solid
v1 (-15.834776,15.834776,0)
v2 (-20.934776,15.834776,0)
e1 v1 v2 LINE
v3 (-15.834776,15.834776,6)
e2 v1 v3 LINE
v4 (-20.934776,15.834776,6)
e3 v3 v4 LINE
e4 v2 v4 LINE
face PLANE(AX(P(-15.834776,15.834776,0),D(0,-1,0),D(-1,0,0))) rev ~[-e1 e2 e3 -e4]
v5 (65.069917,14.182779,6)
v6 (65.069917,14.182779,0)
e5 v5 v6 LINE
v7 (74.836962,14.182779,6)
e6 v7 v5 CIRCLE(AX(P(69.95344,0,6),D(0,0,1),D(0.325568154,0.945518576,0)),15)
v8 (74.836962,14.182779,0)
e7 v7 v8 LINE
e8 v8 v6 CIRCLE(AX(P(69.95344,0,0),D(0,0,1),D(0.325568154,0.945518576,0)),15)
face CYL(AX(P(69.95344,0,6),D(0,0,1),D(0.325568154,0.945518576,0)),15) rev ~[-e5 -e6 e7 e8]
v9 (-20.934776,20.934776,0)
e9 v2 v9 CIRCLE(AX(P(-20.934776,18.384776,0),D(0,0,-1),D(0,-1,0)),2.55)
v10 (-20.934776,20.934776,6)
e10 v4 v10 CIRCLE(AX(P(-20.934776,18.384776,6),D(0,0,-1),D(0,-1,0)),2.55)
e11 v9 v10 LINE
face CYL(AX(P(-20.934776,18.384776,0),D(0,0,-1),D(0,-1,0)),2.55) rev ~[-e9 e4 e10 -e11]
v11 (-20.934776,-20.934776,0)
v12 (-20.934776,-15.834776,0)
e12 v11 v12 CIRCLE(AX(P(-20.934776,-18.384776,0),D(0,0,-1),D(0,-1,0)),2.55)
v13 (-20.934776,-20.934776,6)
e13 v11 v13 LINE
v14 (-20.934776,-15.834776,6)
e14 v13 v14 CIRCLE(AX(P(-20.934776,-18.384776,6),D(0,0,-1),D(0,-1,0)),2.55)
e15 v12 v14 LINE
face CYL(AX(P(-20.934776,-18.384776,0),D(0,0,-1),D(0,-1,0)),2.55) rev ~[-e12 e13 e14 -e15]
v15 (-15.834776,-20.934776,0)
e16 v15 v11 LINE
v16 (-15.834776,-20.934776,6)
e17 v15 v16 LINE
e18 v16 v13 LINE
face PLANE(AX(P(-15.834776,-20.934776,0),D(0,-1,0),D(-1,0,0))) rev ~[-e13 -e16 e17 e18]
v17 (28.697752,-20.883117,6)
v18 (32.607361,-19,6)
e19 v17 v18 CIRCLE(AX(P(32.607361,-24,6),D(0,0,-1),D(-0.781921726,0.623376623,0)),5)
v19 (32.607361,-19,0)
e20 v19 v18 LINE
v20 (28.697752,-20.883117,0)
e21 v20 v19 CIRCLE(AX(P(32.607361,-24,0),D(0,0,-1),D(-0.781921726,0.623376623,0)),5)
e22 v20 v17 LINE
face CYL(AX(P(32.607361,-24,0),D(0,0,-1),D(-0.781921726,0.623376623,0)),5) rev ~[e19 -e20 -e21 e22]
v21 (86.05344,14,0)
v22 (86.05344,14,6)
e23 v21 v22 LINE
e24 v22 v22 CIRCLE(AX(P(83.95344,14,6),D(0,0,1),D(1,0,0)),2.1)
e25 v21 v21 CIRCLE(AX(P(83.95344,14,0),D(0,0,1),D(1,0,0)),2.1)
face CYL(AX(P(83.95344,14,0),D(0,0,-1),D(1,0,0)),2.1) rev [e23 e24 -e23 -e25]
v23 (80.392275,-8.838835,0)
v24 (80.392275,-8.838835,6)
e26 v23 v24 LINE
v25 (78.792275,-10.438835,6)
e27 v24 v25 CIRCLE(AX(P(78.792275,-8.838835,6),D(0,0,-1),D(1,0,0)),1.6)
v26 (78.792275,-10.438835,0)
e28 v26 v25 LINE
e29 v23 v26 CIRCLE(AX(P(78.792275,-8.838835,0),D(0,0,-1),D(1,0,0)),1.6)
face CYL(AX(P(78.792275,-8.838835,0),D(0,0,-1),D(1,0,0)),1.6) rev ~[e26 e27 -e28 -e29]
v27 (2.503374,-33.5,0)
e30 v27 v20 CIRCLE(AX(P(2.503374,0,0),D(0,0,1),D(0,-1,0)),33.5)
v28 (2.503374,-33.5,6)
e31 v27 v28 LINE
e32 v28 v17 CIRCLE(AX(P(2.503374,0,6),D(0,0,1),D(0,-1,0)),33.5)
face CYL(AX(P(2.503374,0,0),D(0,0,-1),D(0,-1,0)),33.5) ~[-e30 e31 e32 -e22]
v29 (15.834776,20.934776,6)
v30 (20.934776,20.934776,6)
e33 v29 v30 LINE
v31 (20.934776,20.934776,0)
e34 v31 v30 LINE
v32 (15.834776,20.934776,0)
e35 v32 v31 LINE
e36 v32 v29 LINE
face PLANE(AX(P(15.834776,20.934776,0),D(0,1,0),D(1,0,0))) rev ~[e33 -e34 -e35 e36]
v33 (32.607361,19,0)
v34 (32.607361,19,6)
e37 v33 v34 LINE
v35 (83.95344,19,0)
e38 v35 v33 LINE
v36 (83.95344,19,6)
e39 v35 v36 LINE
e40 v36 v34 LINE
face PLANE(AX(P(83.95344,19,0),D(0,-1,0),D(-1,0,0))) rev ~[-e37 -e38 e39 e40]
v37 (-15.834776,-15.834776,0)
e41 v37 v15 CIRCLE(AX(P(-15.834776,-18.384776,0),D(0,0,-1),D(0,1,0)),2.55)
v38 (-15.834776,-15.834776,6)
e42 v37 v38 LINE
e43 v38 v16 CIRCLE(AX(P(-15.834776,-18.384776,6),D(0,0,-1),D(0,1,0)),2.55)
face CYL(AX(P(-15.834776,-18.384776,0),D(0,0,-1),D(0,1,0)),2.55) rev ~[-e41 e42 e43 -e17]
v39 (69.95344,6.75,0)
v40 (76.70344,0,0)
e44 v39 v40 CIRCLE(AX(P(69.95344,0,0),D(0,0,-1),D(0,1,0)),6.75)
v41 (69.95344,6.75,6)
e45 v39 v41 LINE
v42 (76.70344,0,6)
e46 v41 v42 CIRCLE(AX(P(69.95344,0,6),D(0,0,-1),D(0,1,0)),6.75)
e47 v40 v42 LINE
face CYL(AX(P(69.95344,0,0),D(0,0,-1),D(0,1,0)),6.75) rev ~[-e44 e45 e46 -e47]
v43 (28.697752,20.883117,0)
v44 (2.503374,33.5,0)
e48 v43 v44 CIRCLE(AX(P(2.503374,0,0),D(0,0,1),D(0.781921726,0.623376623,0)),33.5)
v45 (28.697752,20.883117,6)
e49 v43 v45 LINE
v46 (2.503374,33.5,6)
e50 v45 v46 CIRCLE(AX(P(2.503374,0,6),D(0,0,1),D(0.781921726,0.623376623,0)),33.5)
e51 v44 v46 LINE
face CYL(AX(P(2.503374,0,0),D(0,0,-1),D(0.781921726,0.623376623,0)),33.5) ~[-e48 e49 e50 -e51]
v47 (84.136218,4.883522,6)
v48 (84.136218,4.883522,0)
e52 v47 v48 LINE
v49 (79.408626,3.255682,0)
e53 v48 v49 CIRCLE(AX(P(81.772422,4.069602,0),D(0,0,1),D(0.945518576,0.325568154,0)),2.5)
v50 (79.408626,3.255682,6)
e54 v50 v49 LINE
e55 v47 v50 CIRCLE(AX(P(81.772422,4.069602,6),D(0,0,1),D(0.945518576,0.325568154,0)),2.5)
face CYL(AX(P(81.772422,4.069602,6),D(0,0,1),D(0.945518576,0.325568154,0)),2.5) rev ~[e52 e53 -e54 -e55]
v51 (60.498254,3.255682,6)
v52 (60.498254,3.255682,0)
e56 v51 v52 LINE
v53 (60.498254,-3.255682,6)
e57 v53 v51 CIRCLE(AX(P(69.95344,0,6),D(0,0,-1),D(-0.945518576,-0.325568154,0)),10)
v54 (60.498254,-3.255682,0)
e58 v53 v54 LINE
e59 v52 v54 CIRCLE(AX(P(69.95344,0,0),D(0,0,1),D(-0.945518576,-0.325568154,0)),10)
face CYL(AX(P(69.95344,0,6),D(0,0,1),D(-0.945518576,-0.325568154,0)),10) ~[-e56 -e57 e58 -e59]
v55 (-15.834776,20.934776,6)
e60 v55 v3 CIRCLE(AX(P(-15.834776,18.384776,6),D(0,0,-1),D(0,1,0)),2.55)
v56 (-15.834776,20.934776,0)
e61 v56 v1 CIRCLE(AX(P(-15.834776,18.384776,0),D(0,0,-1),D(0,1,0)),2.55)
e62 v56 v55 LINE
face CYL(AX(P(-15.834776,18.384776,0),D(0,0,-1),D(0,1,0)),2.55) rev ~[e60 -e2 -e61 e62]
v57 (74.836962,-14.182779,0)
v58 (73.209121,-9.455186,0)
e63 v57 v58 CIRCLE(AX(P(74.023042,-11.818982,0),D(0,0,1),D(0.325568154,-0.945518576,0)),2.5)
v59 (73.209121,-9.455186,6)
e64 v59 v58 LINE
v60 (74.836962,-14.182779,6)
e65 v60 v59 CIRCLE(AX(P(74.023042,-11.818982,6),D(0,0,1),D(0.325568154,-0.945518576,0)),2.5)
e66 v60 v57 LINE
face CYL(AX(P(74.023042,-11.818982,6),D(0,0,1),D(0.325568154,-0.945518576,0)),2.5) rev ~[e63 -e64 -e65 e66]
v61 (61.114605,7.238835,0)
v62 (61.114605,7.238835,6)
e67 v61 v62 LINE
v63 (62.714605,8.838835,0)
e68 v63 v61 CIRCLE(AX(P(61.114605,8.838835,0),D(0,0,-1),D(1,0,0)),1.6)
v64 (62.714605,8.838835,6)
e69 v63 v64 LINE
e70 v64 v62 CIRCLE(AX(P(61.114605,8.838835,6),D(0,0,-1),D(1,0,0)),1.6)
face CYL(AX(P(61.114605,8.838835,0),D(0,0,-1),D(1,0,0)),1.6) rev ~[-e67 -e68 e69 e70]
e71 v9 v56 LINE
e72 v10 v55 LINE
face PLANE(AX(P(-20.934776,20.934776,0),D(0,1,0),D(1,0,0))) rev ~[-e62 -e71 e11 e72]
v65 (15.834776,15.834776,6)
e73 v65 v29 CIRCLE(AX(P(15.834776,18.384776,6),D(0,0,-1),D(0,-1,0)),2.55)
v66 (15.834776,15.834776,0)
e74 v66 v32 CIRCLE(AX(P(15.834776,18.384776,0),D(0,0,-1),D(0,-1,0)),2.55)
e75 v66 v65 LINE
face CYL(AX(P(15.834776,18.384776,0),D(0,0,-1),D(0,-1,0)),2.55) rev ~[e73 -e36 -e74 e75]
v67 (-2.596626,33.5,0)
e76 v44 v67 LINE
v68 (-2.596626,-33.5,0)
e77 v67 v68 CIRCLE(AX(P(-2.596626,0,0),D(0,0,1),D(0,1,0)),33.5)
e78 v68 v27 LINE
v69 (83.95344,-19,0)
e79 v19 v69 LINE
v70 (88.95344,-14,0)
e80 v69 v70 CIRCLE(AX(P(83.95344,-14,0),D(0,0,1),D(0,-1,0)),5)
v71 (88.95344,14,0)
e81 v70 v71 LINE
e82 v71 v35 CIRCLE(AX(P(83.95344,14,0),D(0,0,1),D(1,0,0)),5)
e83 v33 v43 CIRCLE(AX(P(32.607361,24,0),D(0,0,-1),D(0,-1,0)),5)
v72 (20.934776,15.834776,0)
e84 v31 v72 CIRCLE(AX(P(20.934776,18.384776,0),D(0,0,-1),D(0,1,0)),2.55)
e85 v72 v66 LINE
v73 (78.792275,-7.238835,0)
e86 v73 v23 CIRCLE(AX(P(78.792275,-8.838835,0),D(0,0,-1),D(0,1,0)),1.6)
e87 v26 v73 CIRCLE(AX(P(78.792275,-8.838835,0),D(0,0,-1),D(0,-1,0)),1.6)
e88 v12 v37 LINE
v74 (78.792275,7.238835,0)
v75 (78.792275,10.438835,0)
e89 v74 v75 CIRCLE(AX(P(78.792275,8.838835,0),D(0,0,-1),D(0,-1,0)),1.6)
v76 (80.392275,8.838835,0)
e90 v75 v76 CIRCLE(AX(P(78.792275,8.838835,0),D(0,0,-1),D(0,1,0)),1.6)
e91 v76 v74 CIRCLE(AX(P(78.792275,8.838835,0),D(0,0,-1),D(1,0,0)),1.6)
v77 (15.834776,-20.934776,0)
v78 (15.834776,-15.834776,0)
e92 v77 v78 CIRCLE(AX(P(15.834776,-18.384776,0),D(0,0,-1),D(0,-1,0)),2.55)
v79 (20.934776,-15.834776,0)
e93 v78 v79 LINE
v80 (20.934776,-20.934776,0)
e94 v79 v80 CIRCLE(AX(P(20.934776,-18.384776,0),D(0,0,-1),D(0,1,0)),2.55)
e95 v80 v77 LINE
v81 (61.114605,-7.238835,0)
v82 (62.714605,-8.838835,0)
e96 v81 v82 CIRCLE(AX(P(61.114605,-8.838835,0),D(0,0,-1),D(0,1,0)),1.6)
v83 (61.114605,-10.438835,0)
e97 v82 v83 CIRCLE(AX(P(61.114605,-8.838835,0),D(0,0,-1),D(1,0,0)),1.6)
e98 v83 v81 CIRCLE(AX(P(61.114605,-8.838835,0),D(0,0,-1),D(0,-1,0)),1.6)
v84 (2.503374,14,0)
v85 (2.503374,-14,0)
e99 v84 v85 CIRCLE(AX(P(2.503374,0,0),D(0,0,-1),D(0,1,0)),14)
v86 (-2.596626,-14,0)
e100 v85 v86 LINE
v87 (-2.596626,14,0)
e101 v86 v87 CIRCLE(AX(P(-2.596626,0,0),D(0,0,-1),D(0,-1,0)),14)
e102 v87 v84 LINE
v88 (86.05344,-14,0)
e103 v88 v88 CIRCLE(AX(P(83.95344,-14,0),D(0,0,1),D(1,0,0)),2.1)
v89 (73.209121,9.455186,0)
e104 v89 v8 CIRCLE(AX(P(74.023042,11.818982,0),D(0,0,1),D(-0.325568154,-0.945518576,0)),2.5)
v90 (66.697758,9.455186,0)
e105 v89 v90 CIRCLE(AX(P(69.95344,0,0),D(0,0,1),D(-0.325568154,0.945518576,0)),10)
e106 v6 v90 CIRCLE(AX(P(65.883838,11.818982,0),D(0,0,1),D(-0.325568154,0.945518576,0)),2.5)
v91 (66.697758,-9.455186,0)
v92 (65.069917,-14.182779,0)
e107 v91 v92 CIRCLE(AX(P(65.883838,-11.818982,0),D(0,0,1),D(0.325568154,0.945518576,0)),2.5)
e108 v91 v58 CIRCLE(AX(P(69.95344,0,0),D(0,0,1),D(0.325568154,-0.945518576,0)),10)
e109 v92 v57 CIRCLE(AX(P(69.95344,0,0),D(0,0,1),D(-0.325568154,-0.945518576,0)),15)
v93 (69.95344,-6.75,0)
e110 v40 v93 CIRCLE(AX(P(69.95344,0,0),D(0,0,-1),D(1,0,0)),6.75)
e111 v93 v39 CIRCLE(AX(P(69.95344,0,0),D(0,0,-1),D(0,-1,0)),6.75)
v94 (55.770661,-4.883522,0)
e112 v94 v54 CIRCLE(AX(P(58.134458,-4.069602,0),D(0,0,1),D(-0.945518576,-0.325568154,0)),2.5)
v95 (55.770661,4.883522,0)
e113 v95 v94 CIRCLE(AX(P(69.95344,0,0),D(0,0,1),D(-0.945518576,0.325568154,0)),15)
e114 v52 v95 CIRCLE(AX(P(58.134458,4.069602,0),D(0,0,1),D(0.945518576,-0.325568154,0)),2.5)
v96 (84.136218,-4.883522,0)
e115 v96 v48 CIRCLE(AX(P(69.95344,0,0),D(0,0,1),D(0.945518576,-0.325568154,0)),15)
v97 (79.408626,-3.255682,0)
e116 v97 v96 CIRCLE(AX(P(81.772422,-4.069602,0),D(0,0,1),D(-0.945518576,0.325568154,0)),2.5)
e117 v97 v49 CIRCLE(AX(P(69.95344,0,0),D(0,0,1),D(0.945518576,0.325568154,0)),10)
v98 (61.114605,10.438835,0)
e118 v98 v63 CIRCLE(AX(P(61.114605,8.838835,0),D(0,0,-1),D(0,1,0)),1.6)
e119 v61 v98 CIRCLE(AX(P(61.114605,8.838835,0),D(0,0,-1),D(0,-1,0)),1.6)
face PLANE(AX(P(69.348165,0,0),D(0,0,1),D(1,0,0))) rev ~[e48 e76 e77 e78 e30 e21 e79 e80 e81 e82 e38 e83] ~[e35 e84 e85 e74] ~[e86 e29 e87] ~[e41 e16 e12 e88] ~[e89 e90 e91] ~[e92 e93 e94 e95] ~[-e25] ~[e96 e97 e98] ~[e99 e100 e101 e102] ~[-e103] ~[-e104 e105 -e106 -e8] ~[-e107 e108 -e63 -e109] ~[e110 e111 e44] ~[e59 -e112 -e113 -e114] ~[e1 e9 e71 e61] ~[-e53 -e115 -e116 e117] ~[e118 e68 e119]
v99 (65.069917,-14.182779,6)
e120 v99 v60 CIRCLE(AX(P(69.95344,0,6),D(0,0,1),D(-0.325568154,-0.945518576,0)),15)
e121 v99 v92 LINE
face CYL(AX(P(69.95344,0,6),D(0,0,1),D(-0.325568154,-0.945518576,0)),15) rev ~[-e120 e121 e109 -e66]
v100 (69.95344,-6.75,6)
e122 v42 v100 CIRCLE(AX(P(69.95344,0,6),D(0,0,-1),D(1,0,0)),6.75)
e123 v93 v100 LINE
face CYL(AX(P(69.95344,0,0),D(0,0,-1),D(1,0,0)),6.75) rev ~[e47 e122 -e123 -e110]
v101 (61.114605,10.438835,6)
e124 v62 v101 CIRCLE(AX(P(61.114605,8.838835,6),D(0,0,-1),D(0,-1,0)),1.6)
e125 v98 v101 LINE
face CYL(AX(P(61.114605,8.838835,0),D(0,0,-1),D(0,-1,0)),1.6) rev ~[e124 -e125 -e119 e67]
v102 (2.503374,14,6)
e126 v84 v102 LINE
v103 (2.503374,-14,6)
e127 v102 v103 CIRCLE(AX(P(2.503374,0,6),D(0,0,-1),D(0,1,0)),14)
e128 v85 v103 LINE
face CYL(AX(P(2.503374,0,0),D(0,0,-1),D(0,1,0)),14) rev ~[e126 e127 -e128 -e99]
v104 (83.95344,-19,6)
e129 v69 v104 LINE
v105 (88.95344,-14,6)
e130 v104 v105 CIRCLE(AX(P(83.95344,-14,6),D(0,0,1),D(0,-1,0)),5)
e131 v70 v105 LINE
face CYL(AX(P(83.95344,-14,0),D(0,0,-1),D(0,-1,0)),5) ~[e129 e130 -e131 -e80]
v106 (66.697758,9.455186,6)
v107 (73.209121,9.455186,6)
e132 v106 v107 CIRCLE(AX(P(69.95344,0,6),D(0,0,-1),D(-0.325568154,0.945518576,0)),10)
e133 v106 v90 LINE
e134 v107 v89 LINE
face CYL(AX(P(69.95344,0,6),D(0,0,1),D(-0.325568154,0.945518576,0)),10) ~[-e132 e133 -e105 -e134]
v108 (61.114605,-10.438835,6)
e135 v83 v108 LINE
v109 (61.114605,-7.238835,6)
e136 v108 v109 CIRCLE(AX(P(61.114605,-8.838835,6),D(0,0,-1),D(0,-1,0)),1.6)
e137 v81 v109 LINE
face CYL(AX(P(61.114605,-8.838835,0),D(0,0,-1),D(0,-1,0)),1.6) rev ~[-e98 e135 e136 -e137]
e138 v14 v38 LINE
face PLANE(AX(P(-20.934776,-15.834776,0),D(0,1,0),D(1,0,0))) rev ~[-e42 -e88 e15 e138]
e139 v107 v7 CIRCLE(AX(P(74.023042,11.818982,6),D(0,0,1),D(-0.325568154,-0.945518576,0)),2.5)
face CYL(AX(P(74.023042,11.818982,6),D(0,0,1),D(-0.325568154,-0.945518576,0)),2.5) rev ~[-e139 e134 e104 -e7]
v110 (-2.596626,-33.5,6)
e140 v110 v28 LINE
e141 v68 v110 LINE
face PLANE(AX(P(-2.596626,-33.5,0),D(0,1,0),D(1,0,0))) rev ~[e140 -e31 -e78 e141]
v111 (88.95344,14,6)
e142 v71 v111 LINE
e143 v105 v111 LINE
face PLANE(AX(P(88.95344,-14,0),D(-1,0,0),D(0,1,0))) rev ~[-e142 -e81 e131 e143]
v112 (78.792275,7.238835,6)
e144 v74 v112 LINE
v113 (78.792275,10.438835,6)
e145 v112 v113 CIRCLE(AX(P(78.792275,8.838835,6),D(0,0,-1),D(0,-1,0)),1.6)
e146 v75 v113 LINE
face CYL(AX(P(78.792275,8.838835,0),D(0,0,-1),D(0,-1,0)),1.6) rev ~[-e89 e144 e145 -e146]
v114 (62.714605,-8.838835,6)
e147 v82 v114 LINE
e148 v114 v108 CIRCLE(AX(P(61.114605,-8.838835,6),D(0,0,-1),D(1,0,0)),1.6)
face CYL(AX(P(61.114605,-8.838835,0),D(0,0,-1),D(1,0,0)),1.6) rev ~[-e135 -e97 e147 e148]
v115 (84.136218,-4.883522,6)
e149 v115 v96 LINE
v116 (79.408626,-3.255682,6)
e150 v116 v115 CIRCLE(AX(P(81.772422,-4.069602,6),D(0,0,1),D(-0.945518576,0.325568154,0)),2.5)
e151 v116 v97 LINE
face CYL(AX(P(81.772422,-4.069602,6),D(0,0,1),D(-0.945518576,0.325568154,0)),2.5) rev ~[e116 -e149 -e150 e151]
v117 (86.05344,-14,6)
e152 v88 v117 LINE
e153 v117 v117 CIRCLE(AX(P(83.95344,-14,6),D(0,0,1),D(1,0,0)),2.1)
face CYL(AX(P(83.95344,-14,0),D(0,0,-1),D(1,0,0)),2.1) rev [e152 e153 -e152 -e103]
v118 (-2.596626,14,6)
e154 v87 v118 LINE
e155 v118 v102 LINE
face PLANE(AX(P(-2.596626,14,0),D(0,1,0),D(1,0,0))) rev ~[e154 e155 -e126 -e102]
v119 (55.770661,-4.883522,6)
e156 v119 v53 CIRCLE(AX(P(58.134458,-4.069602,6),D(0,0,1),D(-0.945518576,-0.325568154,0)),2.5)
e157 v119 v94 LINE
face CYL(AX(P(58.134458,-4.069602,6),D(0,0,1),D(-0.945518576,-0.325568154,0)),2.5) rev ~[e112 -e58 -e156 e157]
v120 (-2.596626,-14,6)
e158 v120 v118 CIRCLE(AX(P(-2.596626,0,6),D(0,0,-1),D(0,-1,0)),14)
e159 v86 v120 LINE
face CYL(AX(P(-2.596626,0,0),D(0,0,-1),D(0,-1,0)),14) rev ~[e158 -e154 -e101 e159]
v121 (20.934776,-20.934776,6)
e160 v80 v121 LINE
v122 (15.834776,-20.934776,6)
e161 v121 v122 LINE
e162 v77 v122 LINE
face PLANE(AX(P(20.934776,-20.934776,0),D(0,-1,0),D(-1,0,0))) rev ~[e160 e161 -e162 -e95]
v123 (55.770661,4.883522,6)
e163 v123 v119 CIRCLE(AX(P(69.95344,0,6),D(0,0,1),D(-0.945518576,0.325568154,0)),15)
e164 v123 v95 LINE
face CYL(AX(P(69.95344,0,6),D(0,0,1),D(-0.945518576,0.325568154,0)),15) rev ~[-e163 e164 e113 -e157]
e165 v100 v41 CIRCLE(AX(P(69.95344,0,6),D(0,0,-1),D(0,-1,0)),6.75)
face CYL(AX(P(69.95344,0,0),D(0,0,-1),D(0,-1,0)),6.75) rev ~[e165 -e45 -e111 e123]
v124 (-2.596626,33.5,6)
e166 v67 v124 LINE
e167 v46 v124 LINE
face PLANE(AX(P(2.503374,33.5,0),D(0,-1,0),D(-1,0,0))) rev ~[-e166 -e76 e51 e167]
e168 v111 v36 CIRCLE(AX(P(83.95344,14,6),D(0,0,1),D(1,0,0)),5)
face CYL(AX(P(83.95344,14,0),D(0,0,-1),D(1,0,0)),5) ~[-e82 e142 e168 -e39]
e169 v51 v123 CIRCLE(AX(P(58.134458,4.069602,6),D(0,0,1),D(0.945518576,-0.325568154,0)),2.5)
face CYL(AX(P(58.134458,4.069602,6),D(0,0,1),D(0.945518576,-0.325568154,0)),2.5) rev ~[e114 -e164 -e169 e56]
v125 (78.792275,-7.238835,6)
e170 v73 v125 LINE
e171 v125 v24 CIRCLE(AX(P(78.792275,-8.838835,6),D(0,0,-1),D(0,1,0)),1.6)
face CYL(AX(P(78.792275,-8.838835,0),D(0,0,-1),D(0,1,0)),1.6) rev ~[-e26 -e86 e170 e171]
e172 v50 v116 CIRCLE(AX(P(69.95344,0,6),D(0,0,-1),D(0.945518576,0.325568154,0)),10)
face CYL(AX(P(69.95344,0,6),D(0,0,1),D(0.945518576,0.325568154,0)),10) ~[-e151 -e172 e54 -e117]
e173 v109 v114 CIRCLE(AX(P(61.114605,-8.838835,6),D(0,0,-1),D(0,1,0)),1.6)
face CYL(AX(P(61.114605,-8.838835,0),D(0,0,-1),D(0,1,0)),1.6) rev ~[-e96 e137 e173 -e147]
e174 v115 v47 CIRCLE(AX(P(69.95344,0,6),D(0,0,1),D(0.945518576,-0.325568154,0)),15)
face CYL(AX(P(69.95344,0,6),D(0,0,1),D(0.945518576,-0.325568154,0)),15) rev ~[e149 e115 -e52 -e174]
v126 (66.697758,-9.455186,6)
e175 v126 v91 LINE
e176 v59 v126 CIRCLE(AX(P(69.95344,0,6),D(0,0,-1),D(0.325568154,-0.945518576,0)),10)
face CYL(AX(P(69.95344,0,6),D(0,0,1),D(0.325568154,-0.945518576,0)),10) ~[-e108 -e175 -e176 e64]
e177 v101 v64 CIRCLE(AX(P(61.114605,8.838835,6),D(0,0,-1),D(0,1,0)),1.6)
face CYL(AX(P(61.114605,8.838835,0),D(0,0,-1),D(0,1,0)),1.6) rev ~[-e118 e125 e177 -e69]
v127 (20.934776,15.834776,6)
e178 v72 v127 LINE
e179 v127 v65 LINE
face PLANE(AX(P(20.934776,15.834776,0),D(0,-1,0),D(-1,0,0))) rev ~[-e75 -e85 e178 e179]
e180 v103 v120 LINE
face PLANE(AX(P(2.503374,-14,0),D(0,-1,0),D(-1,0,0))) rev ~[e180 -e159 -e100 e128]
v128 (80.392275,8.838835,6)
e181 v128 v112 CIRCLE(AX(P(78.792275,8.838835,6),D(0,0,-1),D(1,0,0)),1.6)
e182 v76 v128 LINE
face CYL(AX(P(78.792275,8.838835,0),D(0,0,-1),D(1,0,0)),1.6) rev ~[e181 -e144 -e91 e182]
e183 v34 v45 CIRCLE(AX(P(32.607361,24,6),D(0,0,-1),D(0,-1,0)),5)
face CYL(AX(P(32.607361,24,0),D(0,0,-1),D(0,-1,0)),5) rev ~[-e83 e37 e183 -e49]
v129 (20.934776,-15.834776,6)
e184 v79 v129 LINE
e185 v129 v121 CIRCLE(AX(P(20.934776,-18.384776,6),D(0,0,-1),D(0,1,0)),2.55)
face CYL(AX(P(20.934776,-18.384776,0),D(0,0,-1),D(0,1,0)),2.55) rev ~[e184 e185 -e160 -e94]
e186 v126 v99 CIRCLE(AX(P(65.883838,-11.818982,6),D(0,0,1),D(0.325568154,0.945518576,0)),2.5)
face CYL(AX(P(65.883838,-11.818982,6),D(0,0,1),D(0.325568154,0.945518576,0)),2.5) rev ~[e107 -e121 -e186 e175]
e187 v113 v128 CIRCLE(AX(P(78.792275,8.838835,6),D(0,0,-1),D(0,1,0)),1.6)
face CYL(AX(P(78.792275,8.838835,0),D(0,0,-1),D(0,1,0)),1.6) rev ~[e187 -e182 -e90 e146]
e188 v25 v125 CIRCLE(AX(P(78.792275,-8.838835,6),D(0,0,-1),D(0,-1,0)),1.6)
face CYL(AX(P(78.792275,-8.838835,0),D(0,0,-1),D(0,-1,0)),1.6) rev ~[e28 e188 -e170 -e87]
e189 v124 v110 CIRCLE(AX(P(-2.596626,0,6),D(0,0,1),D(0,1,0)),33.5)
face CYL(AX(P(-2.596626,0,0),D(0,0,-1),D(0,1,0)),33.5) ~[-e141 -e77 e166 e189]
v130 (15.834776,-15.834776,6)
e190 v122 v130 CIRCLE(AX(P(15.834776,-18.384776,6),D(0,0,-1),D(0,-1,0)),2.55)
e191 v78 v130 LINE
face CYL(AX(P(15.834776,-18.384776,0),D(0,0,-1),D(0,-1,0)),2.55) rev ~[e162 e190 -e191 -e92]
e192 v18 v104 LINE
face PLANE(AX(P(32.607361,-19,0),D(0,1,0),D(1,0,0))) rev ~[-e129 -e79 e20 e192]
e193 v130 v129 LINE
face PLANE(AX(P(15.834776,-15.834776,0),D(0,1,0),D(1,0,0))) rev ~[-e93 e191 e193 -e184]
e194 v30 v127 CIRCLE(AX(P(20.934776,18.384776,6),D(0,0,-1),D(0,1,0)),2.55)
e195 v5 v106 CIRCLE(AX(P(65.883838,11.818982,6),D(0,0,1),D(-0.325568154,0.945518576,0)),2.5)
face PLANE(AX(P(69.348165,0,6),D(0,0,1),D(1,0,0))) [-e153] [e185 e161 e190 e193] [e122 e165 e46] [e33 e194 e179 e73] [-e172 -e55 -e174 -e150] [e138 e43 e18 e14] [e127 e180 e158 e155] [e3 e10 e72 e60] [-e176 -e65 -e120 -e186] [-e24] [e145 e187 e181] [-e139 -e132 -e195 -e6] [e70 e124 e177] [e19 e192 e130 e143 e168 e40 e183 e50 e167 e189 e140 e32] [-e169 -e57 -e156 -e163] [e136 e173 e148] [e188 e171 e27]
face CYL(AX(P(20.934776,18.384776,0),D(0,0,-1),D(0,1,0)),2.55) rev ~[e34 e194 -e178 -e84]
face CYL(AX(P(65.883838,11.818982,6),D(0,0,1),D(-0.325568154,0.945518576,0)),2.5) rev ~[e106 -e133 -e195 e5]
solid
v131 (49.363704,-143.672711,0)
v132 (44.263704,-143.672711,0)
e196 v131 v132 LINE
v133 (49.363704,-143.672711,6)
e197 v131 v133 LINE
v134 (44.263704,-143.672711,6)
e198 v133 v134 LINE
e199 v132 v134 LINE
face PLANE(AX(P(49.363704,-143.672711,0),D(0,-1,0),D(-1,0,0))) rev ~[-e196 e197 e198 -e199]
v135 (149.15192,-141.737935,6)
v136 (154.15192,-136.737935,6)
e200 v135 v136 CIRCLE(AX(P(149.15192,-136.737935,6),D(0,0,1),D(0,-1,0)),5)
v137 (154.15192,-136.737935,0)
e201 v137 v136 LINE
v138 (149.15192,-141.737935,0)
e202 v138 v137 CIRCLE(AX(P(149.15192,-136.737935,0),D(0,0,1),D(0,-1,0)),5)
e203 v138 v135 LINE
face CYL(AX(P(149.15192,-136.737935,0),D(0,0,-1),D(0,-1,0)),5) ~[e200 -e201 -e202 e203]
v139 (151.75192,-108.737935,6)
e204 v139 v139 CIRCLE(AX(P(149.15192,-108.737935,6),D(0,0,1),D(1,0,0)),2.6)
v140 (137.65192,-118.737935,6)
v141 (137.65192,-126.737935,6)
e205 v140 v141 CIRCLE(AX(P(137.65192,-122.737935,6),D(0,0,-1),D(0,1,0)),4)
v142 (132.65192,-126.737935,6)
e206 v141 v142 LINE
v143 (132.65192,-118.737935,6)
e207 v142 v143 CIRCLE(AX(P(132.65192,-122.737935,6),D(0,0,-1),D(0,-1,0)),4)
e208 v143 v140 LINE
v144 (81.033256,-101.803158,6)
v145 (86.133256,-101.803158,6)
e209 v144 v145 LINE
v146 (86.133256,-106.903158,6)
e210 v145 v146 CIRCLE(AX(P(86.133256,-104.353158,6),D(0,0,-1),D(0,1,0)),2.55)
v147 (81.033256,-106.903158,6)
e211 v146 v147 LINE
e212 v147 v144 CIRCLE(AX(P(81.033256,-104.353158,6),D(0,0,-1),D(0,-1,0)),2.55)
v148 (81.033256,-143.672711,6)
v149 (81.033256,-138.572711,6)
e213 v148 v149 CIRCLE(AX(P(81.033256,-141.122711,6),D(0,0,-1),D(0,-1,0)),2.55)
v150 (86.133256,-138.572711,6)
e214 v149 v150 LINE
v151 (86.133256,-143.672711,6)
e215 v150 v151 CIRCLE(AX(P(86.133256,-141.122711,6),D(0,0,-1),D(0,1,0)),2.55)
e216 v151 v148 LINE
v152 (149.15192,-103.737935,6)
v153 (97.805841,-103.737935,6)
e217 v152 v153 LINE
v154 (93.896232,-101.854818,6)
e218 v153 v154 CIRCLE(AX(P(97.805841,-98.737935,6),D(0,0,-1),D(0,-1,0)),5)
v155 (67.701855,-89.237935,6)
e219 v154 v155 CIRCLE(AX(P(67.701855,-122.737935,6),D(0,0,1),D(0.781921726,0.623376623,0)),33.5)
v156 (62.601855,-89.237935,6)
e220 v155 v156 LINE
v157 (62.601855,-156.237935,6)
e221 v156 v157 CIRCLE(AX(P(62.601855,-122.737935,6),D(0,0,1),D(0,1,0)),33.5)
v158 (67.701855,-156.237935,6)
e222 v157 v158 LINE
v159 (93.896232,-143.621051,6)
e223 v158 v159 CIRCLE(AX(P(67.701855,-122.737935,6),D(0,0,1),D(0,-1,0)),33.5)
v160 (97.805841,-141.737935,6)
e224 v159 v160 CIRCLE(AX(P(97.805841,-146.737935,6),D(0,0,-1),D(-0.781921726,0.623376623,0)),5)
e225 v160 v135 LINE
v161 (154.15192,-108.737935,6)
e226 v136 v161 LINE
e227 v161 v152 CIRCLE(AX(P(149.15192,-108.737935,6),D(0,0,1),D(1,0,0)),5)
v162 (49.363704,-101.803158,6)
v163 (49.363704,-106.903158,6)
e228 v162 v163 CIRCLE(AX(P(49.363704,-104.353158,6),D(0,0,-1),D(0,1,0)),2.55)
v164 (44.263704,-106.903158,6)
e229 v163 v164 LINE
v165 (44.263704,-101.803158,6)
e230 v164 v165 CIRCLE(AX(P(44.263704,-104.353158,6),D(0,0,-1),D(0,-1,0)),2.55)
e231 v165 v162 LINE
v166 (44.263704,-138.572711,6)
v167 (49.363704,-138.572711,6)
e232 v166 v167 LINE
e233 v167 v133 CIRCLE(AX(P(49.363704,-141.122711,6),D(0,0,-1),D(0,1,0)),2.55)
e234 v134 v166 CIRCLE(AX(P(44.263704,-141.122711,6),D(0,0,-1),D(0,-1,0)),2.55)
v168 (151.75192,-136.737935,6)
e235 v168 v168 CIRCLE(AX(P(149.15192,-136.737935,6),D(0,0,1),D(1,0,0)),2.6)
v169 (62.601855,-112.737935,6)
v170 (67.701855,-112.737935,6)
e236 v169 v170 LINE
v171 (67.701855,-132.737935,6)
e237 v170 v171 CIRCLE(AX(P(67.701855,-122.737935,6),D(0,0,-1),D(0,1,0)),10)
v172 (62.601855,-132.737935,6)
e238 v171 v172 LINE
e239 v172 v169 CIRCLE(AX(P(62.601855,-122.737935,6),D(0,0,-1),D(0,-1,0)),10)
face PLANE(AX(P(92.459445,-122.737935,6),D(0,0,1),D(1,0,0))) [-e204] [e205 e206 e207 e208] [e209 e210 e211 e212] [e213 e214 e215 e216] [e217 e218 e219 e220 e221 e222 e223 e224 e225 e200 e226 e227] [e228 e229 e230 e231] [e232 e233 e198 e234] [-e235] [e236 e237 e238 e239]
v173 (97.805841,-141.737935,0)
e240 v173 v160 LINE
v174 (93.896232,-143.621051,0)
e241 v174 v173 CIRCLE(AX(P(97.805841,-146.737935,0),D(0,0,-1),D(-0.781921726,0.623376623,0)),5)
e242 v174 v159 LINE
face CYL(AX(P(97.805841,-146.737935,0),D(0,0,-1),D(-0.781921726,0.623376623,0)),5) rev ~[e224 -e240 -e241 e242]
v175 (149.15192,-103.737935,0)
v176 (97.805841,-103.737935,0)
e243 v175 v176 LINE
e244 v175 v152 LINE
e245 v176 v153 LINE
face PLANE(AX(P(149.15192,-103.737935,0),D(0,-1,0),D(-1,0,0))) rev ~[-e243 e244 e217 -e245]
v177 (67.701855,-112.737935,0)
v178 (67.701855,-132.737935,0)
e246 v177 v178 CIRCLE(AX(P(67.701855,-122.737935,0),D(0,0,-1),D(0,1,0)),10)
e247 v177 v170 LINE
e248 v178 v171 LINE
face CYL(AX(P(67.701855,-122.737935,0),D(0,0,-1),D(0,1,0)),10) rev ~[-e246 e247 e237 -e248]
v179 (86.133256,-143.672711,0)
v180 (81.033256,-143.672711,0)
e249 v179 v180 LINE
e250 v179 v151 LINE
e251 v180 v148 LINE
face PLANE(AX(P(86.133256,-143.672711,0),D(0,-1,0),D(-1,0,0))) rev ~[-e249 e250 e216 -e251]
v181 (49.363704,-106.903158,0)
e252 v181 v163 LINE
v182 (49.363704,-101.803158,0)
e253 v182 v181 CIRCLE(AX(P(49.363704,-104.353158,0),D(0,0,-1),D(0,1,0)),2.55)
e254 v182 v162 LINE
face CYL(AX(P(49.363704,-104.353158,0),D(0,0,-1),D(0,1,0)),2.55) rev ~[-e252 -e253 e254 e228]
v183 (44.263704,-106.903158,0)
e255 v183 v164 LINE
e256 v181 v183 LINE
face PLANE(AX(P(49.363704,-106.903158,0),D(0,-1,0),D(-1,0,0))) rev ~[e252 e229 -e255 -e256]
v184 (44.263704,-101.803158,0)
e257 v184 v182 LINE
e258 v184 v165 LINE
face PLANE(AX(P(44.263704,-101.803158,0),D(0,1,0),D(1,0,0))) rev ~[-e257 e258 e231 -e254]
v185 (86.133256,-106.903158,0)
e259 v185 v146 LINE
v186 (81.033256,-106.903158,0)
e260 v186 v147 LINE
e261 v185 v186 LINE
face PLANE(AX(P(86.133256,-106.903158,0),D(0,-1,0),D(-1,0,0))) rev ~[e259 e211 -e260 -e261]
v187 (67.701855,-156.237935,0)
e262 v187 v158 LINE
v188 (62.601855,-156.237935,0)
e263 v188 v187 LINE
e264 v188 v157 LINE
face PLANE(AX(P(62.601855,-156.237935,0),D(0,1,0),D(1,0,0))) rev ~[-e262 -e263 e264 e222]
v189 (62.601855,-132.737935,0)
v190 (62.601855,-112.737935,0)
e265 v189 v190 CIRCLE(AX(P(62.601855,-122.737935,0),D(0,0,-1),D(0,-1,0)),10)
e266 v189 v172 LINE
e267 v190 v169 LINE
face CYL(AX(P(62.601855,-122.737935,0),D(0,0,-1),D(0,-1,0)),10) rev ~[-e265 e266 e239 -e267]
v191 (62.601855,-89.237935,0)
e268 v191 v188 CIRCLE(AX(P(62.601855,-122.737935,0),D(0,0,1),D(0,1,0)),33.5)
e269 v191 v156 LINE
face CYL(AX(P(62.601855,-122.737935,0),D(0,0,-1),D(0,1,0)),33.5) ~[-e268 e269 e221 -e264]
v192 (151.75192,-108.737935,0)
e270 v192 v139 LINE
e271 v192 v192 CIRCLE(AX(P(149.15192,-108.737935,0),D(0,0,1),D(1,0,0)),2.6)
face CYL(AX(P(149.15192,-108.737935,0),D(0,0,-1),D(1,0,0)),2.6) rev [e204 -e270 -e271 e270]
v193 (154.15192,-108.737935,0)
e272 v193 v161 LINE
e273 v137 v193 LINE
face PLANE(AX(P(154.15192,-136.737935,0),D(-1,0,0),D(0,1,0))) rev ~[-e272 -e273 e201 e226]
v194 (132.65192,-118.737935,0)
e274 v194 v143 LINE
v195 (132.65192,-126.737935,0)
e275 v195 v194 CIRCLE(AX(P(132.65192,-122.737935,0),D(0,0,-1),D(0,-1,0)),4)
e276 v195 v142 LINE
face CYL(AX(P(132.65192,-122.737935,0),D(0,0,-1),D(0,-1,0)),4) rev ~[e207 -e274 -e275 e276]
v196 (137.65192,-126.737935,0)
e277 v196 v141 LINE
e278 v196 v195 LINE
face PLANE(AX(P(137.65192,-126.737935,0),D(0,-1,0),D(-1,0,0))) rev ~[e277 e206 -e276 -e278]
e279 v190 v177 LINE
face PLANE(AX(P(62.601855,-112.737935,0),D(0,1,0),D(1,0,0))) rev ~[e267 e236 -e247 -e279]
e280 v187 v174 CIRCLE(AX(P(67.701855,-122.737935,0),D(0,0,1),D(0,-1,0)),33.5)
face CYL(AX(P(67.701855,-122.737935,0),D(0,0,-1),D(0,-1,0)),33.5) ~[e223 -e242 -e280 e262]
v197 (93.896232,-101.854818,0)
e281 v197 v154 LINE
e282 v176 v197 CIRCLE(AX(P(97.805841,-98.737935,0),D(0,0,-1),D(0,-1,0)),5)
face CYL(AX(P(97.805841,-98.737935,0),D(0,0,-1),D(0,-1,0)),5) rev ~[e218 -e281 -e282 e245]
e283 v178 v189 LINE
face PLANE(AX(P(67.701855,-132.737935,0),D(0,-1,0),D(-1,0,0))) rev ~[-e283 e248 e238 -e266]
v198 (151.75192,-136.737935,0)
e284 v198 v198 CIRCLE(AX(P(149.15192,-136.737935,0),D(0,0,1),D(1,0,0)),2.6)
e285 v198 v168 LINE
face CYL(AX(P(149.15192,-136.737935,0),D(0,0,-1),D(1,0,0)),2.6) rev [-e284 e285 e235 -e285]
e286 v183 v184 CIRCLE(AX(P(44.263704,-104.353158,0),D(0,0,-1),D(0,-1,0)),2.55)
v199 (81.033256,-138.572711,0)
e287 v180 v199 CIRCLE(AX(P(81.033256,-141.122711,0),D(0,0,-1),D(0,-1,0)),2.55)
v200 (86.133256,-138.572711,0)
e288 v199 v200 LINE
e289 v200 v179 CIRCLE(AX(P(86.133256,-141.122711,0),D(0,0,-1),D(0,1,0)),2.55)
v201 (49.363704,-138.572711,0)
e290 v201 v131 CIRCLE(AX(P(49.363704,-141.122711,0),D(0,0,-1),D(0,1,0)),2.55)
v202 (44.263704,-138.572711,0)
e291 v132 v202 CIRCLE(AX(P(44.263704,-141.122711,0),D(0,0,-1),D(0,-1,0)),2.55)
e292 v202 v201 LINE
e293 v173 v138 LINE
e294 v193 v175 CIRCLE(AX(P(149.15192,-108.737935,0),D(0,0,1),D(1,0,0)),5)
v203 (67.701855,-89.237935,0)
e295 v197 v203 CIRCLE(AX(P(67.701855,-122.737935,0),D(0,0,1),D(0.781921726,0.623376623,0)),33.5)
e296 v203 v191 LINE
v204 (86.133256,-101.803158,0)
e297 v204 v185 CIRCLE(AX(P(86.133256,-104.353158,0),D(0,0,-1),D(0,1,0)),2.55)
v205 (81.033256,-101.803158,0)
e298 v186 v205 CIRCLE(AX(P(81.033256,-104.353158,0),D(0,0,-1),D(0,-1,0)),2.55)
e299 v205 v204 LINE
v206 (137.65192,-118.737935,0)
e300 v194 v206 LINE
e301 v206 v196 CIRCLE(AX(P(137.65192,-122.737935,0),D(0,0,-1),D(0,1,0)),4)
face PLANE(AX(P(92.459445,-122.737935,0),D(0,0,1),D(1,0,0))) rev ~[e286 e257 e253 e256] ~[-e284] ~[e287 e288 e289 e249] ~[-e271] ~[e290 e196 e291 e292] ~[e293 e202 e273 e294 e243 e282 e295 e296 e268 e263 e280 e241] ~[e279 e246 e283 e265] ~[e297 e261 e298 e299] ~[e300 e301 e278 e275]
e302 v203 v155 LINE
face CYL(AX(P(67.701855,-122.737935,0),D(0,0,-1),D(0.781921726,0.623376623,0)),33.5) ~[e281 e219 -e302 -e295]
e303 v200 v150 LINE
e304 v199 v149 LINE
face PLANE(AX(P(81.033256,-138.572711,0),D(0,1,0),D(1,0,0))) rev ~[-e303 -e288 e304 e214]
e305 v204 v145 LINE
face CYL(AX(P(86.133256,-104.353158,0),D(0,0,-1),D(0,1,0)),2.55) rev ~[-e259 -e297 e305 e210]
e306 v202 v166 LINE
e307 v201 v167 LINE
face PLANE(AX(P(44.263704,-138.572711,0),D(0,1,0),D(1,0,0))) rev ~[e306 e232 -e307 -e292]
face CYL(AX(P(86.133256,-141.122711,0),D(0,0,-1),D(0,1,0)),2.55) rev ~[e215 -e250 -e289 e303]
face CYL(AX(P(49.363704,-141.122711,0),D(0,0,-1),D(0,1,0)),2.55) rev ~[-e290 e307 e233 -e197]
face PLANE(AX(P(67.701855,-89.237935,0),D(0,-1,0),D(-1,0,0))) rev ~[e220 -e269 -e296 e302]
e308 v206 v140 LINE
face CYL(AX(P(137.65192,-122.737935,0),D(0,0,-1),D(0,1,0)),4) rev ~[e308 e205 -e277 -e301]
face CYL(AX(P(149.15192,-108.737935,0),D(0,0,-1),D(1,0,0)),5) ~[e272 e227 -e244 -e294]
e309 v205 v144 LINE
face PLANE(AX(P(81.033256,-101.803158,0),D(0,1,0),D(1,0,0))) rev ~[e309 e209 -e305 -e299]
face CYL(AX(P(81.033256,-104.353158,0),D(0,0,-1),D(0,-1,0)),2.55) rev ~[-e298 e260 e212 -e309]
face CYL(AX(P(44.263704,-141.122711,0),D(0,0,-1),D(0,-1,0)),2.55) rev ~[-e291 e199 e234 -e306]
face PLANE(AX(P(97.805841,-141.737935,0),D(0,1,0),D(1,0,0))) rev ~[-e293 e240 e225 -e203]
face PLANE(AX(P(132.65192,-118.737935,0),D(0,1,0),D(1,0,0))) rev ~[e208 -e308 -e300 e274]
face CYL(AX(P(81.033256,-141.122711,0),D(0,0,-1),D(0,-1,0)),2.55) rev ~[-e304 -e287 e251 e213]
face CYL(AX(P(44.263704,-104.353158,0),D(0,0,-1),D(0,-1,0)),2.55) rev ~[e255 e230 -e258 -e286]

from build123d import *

# Parameters (mm, degrees)
F0_R     = 2.1
F1_DEPTH = 6
F3_DEPTH = 25
F4_R     = 2.6
F5_DEPTH = 6


with BuildPart() as f1:
    # F0 (on Top) → F1 (new body)
    with BuildSketch(Plane.XY):
        with BuildLine():
            Line((83.9534397721, 19), (74.9534397721, 19))
            Line((74.9534397721, 19), (50.9534397721, 19))
            Line((50.9534397721, 19), (50.9534397721, -19))
            Line((50.9534397721, -19), (74.9534397721, -19))
            Line((74.9534397721, -19), (83.9534397721, -19))
            ThreePointArc((83.9534397721, -19), (87.4889736781, -17.5355339059), (88.9534397721, -14))
            Line((88.9534397721, -14), (88.9534397721, 14))
            ThreePointArc((88.9534397721, 14), (87.4889736781, 17.5355339059), (83.9534397721, 19))
        make_face()
        with BuildLine():
            ThreePointArc((61.1146050073, -7.2388347648), (62.2459758572, -7.7074639149), (62.7146050073, -8.8388347648))
            ThreePointArc((62.7146050073, -8.8388347648), (62.2459758572, -9.9702056147), (61.1146050073, -10.4388347648))
            ThreePointArc((61.1146050073, -10.4388347648), (59.5146050073, -8.8388347648), (61.1146050073, -7.2388347648))
        make_face(mode=Mode.SUBTRACT)
        with Locations((83.9534397721, -14)):
            Circle(F0_R, mode=Mode.SUBTRACT)
        with BuildLine():
            ThreePointArc((78.792274537, -7.2388347648), (79.9236453869, -7.7074639149), (80.392274537, -8.8388347648))
            ThreePointArc((80.392274537, -8.8388347648), (79.9236453869, -9.9702056147), (78.792274537, -10.4388347648))
            ThreePointArc((78.792274537, -10.4388347648), (77.192274537, -8.8388347648), (78.792274537, -7.2388347648))
        make_face(mode=Mode.SUBTRACT)
        with BuildLine():
            ThreePointArc((69.9534397721, 6.75), (74.7264105451, 4.772970773), (76.7034397721, 0))
            ThreePointArc((76.7034397721, 0), (74.7264105451, -4.772970773), (69.9534397721, -6.75))
            ThreePointArc((69.9534397721, -6.75), (63.2034397721, 0), (69.9534397721, 6.75))
        make_face(mode=Mode.SUBTRACT)
        with BuildLine():
            ThreePointArc((61.1146050073, 10.4388347648), (62.2459758572, 9.9702056147), (62.7146050073, 8.8388347648))
            ThreePointArc((62.7146050073, 8.8388347648), (62.2459758572, 7.7074639149), (61.1146050073, 7.2388347648))
            ThreePointArc((61.1146050073, 7.2388347648), (59.5146050073, 8.8388347648), (61.1146050073, 10.4388347648))
        make_face(mode=Mode.SUBTRACT)
        with BuildLine():
            ThreePointArc((78.792274537, 10.4388347648), (79.9236453869, 9.9702056147), (80.392274537, 8.8388347648))
            ThreePointArc((80.392274537, 8.8388347648), (79.9236453869, 7.7074639149), (78.792274537, 7.2388347648))
            ThreePointArc((78.792274537, 7.2388347648), (77.192274537, 8.8388347648), (78.792274537, 10.4388347648))
        make_face(mode=Mode.SUBTRACT)
        with Locations((83.9534397721, 14)):
            Circle(F0_R, mode=Mode.SUBTRACT)
        with BuildLine():
            Line((50.9534397721, -19), (50.9534397721, 19))
            Line((50.9534397721, 19), (32.6073608825, 19))
            ThreePointArc((32.6073608825, 19), (30.4376161492, 19.4953126865), (28.6977522531, 20.8831168831))
            ThreePointArc((28.6977522531, 20.8831168831), (17.0406641488, 30.1814050003), (2.5033744356, 33.5))
            Line((2.5033744356, 33.5), (-2.5966255644, 33.5))
            ThreePointArc((-2.5966255644, 33.5), (-36.0966255644, 0), (-2.5966255644, -33.5))
            Line((-2.5966255644, -33.5), (2.5033744356, -33.5))
            ThreePointArc((2.5033744356, -33.5), (17.0406641488, -30.1814050003), (28.6977522531, -20.8831168831))
            ThreePointArc((28.6977522531, -20.8831168831), (30.4376161492, -19.4953126865), (32.6073608825, -19))
            Line((32.6073608825, -19), (50.9534397721, -19))
        make_face()
        with BuildLine():
            Line((-15.8347763109, -20.9347763109), (-20.9347763109, -20.9347763109))
            ThreePointArc((-20.9347763109, -20.9347763109), (-23.4847763109, -18.3847763109), (-20.9347763109, -15.8347763109))
            Line((-20.9347763109, -15.8347763109), (-15.8347763109, -15.8347763109))
            ThreePointArc((-15.8347763109, -15.8347763109), (-13.2847763109, -18.3847763109), (-15.8347763109, -20.9347763109))
        make_face(mode=Mode.SUBTRACT)
        with BuildLine():
            Line((20.9347763109, -20.9347763109), (15.8347763109, -20.9347763109))
            ThreePointArc((15.8347763109, -20.9347763109), (13.2847763109, -18.3847763109), (15.8347763109, -15.8347763109))
            Line((15.8347763109, -15.8347763109), (20.9347763109, -15.8347763109))
            ThreePointArc((20.9347763109, -15.8347763109), (23.4847763109, -18.3847763109), (20.9347763109, -20.9347763109))
        make_face(mode=Mode.SUBTRACT)
        with BuildLine():
            Line((-2.5966255644, 14), (2.5033744356, 14))
            ThreePointArc((2.5033744356, 14), (16.5033744356, 0), (2.5033744356, -14))
            Line((2.5033744356, -14), (-2.5966255644, -14))
            ThreePointArc((-2.5966255644, -14), (-16.5966255644, 0), (-2.5966255644, 14))
        make_face(mode=Mode.SUBTRACT)
        with BuildLine():
            Line((-15.8347763109, 15.8347763109), (-20.9347763109, 15.8347763109))
            ThreePointArc((-20.9347763109, 15.8347763109), (-23.4847763109, 18.3847763109), (-20.9347763109, 20.9347763109))
            Line((-20.9347763109, 20.9347763109), (-15.8347763109, 20.9347763109))
            ThreePointArc((-15.8347763109, 20.9347763109), (-13.2847763109, 18.3847763109), (-15.8347763109, 15.8347763109))
        make_face(mode=Mode.SUBTRACT)
        with BuildLine():
            Line((20.9347763109, 15.8347763109), (15.8347763109, 15.8347763109))
            ThreePointArc((15.8347763109, 15.8347763109), (13.2847763109, 18.3847763109), (15.8347763109, 20.9347763109))
            Line((15.8347763109, 20.9347763109), (20.9347763109, 20.9347763109))
            ThreePointArc((20.9347763109, 20.9347763109), (23.4847763109, 18.3847763109), (20.9347763109, 15.8347763109))
        make_face(mode=Mode.SUBTRACT)
    extrude(amount=F1_DEPTH)

    # F2 (on face) → F3 (cut)
    with BuildSketch(Plane.XY.offset(6)):
        with BuildLine():
            ThreePointArc((60.4982540161, 3.2556815446), (58.9483779633, 6.4333983697), (55.7706611381, 4.8835223169))
            ThreePointArc((55.7706611381, 4.8835223169), (54.9534397721, 0), (55.7706611381, -4.8835223169))
            ThreePointArc((55.7706611381, -4.8835223169), (58.9483779633, -6.4333983697), (60.4982540161, -3.2556815446))
            ThreePointArc((60.4982540161, -3.2556815446), (59.9534397721, 0), (60.4982540161, 3.2556815446))
        make_face()
        with BuildLine():
            ThreePointArc((66.6977582276, -9.455185756), (63.5200414024, -11.0050618088), (65.0699174553, -14.182778634))
            ThreePointArc((65.0699174553, -14.182778634), (69.9534397721, -15), (74.836962089, -14.182778634))
            ThreePointArc((74.836962089, -14.182778634), (76.3868381418, -11.0050618088), (73.2091213167, -9.455185756))
            ThreePointArc((73.2091213167, -9.455185756), (69.9534397721, -10), (66.6977582276, -9.455185756))
        make_face()
        with BuildLine():
            ThreePointArc((79.4086255281, -3.2556815446), (80.958501581, -6.4333983697), (84.1362184061, -4.8835223169))
            ThreePointArc((84.1362184061, -4.8835223169), (84.9534397721, 0), (84.1362184061, 4.8835223169))
            ThreePointArc((84.1362184061, 4.8835223169), (80.958501581, 6.4333983697), (79.4086255281, 3.2556815446))
            ThreePointArc((79.4086255281, 3.2556815446), (79.9534397721, 0), (79.4086255281, -3.2556815446))
        make_face()
        with BuildLine():
            ThreePointArc((73.2091213167, 9.455185756), (76.3868381418, 11.0050618088), (74.836962089, 14.182778634))
            ThreePointArc((74.836962089, 14.182778634), (69.9534397721, 15), (65.0699174553, 14.182778634))
            ThreePointArc((65.0699174553, 14.182778634), (63.5200414024, 11.0050618088), (66.6977582276, 9.455185756))
            ThreePointArc((66.6977582276, 9.455185756), (69.9534397721, 10), (73.2091213167, 9.455185756))
        make_face()
    extrude(amount=-F3_DEPTH, mode=Mode.SUBTRACT)


with BuildPart() as f5:
    # F4 (on Top) → F5 (new body)
    with BuildSketch(Plane.XY):
        with BuildLine():
            Line((149.1519199059, -103.7379346011), (140.1519199059, -103.7379346011))
            Line((140.1519199059, -103.7379346011), (116.1519199059, -103.7379346011))
            Line((116.1519199059, -103.7379346011), (97.8058410163, -103.7379346011))
            ThreePointArc((97.8058410163, -103.7379346011), (95.636096283, -103.2426219146), (93.8962323868, -101.854817718))
            ThreePointArc((93.8962323868, -101.854817718), (82.2391442826, -92.5565296008), (67.7018545693, -89.2379346011))
            Line((67.7018545693, -89.2379346011), (62.6018545693, -89.2379346011))
            ThreePointArc((62.6018545693, -89.2379346011), (29.1018545693, -122.7379346011), (62.6018545693, -156.2379346011))
            Line((62.6018545693, -156.2379346011), (67.7018545693, -156.2379346011))
            ThreePointArc((67.7018545693, -156.2379346011), (82.2391442826, -152.9193396014), (93.8962323868, -143.6210514842))
            ThreePointArc((93.8962323868, -143.6210514842), (95.636096283, -142.2332472876), (97.8058410163, -141.7379346011))
            Line((97.8058410163, -141.7379346011), (116.1519199059, -141.7379346011))
            Line((116.1519199059, -141.7379346011), (140.1519199059, -141.7379346011))
            Line((140.1519199059, -141.7379346011), (149.1519199059, -141.7379346011))
            ThreePointArc((149.1519199059, -141.7379346011), (152.6874538118, -140.273468507), (154.1519199059, -136.7379346011))
            Line((154.1519199059, -136.7379346011), (154.1519199059, -108.7379346011))
            ThreePointArc((154.1519199059, -108.7379346011), (152.6874538118, -105.2024006952), (149.1519199059, -103.7379346011))
        make_face()
        with BuildLine():
            Line((49.3637038229, -143.672710912), (44.2637038229, -143.672710912))
            ThreePointArc((44.2637038229, -143.672710912), (41.7137038229, -141.122710912), (44.2637038229, -138.572710912))
            Line((44.2637038229, -138.572710912), (49.3637038229, -138.572710912))
            ThreePointArc((49.3637038229, -138.572710912), (51.9137038229, -141.122710912), (49.3637038229, -143.672710912))
        make_face(mode=Mode.SUBTRACT)
        with BuildLine():
            Line((86.1332564446, -143.672710912), (81.0332564446, -143.672710912))
            ThreePointArc((81.0332564446, -143.672710912), (78.4832564446, -141.122710912), (81.0332564446, -138.572710912))
            Line((81.0332564446, -138.572710912), (86.1332564446, -138.572710912))
            ThreePointArc((86.1332564446, -138.572710912), (88.6832564446, -141.122710912), (86.1332564446, -143.672710912))
        make_face(mode=Mode.SUBTRACT)
        with Locations((149.1519199059, -136.7379346011)):
            Circle(F4_R, mode=Mode.SUBTRACT)
        with BuildLine():
            Line((137.6519199059, -126.7379346011), (132.6519199059, -126.7379346011))
            ThreePointArc((132.6519199059, -126.7379346011), (128.6519199059, -122.7379346011), (132.6519199059, -118.7379346011))
            Line((132.6519199059, -118.7379346011), (137.6519199059, -118.7379346011))
            ThreePointArc((137.6519199059, -118.7379346011), (141.6519199059, -122.7379346011), (137.6519199059, -126.7379346011))
        make_face(mode=Mode.SUBTRACT)
        with BuildLine():
            Line((62.6018545693, -112.7379346011), (67.7018545693, -112.7379346011))
            ThreePointArc((67.7018545693, -112.7379346011), (77.7018545693, -122.7379346011), (67.7018545693, -132.7379346011))
            Line((67.7018545693, -132.7379346011), (62.6018545693, -132.7379346011))
            ThreePointArc((62.6018545693, -132.7379346011), (52.6018545693, -122.7379346011), (62.6018545693, -112.7379346011))
        make_face(mode=Mode.SUBTRACT)
        with BuildLine():
            Line((49.3637038229, -106.9031582903), (44.2637038229, -106.9031582903))
            ThreePointArc((44.2637038229, -106.9031582903), (41.7137038229, -104.3531582903), (44.2637038229, -101.8031582903))
            Line((44.2637038229, -101.8031582903), (49.3637038229, -101.8031582903))
            ThreePointArc((49.3637038229, -101.8031582903), (51.9137038229, -104.3531582903), (49.3637038229, -106.9031582903))
        make_face(mode=Mode.SUBTRACT)
        with BuildLine():
            Line((86.1332564446, -106.9031582903), (81.0332564446, -106.9031582903))
            ThreePointArc((81.0332564446, -106.9031582903), (78.4832564446, -104.3531582903), (81.0332564446, -101.8031582903))
            Line((81.0332564446, -101.8031582903), (86.1332564446, -101.8031582903))
            ThreePointArc((86.1332564446, -101.8031582903), (88.6832564446, -104.3531582903), (86.1332564446, -106.9031582903))
        make_face(mode=Mode.SUBTRACT)
        with Locations((149.1519199059, -108.7379346011)):
            Circle(F4_R, mode=Mode.SUBTRACT)
    extrude(amount=F5_DEPTH)


solid = Compound([f1.part, f5.part])
